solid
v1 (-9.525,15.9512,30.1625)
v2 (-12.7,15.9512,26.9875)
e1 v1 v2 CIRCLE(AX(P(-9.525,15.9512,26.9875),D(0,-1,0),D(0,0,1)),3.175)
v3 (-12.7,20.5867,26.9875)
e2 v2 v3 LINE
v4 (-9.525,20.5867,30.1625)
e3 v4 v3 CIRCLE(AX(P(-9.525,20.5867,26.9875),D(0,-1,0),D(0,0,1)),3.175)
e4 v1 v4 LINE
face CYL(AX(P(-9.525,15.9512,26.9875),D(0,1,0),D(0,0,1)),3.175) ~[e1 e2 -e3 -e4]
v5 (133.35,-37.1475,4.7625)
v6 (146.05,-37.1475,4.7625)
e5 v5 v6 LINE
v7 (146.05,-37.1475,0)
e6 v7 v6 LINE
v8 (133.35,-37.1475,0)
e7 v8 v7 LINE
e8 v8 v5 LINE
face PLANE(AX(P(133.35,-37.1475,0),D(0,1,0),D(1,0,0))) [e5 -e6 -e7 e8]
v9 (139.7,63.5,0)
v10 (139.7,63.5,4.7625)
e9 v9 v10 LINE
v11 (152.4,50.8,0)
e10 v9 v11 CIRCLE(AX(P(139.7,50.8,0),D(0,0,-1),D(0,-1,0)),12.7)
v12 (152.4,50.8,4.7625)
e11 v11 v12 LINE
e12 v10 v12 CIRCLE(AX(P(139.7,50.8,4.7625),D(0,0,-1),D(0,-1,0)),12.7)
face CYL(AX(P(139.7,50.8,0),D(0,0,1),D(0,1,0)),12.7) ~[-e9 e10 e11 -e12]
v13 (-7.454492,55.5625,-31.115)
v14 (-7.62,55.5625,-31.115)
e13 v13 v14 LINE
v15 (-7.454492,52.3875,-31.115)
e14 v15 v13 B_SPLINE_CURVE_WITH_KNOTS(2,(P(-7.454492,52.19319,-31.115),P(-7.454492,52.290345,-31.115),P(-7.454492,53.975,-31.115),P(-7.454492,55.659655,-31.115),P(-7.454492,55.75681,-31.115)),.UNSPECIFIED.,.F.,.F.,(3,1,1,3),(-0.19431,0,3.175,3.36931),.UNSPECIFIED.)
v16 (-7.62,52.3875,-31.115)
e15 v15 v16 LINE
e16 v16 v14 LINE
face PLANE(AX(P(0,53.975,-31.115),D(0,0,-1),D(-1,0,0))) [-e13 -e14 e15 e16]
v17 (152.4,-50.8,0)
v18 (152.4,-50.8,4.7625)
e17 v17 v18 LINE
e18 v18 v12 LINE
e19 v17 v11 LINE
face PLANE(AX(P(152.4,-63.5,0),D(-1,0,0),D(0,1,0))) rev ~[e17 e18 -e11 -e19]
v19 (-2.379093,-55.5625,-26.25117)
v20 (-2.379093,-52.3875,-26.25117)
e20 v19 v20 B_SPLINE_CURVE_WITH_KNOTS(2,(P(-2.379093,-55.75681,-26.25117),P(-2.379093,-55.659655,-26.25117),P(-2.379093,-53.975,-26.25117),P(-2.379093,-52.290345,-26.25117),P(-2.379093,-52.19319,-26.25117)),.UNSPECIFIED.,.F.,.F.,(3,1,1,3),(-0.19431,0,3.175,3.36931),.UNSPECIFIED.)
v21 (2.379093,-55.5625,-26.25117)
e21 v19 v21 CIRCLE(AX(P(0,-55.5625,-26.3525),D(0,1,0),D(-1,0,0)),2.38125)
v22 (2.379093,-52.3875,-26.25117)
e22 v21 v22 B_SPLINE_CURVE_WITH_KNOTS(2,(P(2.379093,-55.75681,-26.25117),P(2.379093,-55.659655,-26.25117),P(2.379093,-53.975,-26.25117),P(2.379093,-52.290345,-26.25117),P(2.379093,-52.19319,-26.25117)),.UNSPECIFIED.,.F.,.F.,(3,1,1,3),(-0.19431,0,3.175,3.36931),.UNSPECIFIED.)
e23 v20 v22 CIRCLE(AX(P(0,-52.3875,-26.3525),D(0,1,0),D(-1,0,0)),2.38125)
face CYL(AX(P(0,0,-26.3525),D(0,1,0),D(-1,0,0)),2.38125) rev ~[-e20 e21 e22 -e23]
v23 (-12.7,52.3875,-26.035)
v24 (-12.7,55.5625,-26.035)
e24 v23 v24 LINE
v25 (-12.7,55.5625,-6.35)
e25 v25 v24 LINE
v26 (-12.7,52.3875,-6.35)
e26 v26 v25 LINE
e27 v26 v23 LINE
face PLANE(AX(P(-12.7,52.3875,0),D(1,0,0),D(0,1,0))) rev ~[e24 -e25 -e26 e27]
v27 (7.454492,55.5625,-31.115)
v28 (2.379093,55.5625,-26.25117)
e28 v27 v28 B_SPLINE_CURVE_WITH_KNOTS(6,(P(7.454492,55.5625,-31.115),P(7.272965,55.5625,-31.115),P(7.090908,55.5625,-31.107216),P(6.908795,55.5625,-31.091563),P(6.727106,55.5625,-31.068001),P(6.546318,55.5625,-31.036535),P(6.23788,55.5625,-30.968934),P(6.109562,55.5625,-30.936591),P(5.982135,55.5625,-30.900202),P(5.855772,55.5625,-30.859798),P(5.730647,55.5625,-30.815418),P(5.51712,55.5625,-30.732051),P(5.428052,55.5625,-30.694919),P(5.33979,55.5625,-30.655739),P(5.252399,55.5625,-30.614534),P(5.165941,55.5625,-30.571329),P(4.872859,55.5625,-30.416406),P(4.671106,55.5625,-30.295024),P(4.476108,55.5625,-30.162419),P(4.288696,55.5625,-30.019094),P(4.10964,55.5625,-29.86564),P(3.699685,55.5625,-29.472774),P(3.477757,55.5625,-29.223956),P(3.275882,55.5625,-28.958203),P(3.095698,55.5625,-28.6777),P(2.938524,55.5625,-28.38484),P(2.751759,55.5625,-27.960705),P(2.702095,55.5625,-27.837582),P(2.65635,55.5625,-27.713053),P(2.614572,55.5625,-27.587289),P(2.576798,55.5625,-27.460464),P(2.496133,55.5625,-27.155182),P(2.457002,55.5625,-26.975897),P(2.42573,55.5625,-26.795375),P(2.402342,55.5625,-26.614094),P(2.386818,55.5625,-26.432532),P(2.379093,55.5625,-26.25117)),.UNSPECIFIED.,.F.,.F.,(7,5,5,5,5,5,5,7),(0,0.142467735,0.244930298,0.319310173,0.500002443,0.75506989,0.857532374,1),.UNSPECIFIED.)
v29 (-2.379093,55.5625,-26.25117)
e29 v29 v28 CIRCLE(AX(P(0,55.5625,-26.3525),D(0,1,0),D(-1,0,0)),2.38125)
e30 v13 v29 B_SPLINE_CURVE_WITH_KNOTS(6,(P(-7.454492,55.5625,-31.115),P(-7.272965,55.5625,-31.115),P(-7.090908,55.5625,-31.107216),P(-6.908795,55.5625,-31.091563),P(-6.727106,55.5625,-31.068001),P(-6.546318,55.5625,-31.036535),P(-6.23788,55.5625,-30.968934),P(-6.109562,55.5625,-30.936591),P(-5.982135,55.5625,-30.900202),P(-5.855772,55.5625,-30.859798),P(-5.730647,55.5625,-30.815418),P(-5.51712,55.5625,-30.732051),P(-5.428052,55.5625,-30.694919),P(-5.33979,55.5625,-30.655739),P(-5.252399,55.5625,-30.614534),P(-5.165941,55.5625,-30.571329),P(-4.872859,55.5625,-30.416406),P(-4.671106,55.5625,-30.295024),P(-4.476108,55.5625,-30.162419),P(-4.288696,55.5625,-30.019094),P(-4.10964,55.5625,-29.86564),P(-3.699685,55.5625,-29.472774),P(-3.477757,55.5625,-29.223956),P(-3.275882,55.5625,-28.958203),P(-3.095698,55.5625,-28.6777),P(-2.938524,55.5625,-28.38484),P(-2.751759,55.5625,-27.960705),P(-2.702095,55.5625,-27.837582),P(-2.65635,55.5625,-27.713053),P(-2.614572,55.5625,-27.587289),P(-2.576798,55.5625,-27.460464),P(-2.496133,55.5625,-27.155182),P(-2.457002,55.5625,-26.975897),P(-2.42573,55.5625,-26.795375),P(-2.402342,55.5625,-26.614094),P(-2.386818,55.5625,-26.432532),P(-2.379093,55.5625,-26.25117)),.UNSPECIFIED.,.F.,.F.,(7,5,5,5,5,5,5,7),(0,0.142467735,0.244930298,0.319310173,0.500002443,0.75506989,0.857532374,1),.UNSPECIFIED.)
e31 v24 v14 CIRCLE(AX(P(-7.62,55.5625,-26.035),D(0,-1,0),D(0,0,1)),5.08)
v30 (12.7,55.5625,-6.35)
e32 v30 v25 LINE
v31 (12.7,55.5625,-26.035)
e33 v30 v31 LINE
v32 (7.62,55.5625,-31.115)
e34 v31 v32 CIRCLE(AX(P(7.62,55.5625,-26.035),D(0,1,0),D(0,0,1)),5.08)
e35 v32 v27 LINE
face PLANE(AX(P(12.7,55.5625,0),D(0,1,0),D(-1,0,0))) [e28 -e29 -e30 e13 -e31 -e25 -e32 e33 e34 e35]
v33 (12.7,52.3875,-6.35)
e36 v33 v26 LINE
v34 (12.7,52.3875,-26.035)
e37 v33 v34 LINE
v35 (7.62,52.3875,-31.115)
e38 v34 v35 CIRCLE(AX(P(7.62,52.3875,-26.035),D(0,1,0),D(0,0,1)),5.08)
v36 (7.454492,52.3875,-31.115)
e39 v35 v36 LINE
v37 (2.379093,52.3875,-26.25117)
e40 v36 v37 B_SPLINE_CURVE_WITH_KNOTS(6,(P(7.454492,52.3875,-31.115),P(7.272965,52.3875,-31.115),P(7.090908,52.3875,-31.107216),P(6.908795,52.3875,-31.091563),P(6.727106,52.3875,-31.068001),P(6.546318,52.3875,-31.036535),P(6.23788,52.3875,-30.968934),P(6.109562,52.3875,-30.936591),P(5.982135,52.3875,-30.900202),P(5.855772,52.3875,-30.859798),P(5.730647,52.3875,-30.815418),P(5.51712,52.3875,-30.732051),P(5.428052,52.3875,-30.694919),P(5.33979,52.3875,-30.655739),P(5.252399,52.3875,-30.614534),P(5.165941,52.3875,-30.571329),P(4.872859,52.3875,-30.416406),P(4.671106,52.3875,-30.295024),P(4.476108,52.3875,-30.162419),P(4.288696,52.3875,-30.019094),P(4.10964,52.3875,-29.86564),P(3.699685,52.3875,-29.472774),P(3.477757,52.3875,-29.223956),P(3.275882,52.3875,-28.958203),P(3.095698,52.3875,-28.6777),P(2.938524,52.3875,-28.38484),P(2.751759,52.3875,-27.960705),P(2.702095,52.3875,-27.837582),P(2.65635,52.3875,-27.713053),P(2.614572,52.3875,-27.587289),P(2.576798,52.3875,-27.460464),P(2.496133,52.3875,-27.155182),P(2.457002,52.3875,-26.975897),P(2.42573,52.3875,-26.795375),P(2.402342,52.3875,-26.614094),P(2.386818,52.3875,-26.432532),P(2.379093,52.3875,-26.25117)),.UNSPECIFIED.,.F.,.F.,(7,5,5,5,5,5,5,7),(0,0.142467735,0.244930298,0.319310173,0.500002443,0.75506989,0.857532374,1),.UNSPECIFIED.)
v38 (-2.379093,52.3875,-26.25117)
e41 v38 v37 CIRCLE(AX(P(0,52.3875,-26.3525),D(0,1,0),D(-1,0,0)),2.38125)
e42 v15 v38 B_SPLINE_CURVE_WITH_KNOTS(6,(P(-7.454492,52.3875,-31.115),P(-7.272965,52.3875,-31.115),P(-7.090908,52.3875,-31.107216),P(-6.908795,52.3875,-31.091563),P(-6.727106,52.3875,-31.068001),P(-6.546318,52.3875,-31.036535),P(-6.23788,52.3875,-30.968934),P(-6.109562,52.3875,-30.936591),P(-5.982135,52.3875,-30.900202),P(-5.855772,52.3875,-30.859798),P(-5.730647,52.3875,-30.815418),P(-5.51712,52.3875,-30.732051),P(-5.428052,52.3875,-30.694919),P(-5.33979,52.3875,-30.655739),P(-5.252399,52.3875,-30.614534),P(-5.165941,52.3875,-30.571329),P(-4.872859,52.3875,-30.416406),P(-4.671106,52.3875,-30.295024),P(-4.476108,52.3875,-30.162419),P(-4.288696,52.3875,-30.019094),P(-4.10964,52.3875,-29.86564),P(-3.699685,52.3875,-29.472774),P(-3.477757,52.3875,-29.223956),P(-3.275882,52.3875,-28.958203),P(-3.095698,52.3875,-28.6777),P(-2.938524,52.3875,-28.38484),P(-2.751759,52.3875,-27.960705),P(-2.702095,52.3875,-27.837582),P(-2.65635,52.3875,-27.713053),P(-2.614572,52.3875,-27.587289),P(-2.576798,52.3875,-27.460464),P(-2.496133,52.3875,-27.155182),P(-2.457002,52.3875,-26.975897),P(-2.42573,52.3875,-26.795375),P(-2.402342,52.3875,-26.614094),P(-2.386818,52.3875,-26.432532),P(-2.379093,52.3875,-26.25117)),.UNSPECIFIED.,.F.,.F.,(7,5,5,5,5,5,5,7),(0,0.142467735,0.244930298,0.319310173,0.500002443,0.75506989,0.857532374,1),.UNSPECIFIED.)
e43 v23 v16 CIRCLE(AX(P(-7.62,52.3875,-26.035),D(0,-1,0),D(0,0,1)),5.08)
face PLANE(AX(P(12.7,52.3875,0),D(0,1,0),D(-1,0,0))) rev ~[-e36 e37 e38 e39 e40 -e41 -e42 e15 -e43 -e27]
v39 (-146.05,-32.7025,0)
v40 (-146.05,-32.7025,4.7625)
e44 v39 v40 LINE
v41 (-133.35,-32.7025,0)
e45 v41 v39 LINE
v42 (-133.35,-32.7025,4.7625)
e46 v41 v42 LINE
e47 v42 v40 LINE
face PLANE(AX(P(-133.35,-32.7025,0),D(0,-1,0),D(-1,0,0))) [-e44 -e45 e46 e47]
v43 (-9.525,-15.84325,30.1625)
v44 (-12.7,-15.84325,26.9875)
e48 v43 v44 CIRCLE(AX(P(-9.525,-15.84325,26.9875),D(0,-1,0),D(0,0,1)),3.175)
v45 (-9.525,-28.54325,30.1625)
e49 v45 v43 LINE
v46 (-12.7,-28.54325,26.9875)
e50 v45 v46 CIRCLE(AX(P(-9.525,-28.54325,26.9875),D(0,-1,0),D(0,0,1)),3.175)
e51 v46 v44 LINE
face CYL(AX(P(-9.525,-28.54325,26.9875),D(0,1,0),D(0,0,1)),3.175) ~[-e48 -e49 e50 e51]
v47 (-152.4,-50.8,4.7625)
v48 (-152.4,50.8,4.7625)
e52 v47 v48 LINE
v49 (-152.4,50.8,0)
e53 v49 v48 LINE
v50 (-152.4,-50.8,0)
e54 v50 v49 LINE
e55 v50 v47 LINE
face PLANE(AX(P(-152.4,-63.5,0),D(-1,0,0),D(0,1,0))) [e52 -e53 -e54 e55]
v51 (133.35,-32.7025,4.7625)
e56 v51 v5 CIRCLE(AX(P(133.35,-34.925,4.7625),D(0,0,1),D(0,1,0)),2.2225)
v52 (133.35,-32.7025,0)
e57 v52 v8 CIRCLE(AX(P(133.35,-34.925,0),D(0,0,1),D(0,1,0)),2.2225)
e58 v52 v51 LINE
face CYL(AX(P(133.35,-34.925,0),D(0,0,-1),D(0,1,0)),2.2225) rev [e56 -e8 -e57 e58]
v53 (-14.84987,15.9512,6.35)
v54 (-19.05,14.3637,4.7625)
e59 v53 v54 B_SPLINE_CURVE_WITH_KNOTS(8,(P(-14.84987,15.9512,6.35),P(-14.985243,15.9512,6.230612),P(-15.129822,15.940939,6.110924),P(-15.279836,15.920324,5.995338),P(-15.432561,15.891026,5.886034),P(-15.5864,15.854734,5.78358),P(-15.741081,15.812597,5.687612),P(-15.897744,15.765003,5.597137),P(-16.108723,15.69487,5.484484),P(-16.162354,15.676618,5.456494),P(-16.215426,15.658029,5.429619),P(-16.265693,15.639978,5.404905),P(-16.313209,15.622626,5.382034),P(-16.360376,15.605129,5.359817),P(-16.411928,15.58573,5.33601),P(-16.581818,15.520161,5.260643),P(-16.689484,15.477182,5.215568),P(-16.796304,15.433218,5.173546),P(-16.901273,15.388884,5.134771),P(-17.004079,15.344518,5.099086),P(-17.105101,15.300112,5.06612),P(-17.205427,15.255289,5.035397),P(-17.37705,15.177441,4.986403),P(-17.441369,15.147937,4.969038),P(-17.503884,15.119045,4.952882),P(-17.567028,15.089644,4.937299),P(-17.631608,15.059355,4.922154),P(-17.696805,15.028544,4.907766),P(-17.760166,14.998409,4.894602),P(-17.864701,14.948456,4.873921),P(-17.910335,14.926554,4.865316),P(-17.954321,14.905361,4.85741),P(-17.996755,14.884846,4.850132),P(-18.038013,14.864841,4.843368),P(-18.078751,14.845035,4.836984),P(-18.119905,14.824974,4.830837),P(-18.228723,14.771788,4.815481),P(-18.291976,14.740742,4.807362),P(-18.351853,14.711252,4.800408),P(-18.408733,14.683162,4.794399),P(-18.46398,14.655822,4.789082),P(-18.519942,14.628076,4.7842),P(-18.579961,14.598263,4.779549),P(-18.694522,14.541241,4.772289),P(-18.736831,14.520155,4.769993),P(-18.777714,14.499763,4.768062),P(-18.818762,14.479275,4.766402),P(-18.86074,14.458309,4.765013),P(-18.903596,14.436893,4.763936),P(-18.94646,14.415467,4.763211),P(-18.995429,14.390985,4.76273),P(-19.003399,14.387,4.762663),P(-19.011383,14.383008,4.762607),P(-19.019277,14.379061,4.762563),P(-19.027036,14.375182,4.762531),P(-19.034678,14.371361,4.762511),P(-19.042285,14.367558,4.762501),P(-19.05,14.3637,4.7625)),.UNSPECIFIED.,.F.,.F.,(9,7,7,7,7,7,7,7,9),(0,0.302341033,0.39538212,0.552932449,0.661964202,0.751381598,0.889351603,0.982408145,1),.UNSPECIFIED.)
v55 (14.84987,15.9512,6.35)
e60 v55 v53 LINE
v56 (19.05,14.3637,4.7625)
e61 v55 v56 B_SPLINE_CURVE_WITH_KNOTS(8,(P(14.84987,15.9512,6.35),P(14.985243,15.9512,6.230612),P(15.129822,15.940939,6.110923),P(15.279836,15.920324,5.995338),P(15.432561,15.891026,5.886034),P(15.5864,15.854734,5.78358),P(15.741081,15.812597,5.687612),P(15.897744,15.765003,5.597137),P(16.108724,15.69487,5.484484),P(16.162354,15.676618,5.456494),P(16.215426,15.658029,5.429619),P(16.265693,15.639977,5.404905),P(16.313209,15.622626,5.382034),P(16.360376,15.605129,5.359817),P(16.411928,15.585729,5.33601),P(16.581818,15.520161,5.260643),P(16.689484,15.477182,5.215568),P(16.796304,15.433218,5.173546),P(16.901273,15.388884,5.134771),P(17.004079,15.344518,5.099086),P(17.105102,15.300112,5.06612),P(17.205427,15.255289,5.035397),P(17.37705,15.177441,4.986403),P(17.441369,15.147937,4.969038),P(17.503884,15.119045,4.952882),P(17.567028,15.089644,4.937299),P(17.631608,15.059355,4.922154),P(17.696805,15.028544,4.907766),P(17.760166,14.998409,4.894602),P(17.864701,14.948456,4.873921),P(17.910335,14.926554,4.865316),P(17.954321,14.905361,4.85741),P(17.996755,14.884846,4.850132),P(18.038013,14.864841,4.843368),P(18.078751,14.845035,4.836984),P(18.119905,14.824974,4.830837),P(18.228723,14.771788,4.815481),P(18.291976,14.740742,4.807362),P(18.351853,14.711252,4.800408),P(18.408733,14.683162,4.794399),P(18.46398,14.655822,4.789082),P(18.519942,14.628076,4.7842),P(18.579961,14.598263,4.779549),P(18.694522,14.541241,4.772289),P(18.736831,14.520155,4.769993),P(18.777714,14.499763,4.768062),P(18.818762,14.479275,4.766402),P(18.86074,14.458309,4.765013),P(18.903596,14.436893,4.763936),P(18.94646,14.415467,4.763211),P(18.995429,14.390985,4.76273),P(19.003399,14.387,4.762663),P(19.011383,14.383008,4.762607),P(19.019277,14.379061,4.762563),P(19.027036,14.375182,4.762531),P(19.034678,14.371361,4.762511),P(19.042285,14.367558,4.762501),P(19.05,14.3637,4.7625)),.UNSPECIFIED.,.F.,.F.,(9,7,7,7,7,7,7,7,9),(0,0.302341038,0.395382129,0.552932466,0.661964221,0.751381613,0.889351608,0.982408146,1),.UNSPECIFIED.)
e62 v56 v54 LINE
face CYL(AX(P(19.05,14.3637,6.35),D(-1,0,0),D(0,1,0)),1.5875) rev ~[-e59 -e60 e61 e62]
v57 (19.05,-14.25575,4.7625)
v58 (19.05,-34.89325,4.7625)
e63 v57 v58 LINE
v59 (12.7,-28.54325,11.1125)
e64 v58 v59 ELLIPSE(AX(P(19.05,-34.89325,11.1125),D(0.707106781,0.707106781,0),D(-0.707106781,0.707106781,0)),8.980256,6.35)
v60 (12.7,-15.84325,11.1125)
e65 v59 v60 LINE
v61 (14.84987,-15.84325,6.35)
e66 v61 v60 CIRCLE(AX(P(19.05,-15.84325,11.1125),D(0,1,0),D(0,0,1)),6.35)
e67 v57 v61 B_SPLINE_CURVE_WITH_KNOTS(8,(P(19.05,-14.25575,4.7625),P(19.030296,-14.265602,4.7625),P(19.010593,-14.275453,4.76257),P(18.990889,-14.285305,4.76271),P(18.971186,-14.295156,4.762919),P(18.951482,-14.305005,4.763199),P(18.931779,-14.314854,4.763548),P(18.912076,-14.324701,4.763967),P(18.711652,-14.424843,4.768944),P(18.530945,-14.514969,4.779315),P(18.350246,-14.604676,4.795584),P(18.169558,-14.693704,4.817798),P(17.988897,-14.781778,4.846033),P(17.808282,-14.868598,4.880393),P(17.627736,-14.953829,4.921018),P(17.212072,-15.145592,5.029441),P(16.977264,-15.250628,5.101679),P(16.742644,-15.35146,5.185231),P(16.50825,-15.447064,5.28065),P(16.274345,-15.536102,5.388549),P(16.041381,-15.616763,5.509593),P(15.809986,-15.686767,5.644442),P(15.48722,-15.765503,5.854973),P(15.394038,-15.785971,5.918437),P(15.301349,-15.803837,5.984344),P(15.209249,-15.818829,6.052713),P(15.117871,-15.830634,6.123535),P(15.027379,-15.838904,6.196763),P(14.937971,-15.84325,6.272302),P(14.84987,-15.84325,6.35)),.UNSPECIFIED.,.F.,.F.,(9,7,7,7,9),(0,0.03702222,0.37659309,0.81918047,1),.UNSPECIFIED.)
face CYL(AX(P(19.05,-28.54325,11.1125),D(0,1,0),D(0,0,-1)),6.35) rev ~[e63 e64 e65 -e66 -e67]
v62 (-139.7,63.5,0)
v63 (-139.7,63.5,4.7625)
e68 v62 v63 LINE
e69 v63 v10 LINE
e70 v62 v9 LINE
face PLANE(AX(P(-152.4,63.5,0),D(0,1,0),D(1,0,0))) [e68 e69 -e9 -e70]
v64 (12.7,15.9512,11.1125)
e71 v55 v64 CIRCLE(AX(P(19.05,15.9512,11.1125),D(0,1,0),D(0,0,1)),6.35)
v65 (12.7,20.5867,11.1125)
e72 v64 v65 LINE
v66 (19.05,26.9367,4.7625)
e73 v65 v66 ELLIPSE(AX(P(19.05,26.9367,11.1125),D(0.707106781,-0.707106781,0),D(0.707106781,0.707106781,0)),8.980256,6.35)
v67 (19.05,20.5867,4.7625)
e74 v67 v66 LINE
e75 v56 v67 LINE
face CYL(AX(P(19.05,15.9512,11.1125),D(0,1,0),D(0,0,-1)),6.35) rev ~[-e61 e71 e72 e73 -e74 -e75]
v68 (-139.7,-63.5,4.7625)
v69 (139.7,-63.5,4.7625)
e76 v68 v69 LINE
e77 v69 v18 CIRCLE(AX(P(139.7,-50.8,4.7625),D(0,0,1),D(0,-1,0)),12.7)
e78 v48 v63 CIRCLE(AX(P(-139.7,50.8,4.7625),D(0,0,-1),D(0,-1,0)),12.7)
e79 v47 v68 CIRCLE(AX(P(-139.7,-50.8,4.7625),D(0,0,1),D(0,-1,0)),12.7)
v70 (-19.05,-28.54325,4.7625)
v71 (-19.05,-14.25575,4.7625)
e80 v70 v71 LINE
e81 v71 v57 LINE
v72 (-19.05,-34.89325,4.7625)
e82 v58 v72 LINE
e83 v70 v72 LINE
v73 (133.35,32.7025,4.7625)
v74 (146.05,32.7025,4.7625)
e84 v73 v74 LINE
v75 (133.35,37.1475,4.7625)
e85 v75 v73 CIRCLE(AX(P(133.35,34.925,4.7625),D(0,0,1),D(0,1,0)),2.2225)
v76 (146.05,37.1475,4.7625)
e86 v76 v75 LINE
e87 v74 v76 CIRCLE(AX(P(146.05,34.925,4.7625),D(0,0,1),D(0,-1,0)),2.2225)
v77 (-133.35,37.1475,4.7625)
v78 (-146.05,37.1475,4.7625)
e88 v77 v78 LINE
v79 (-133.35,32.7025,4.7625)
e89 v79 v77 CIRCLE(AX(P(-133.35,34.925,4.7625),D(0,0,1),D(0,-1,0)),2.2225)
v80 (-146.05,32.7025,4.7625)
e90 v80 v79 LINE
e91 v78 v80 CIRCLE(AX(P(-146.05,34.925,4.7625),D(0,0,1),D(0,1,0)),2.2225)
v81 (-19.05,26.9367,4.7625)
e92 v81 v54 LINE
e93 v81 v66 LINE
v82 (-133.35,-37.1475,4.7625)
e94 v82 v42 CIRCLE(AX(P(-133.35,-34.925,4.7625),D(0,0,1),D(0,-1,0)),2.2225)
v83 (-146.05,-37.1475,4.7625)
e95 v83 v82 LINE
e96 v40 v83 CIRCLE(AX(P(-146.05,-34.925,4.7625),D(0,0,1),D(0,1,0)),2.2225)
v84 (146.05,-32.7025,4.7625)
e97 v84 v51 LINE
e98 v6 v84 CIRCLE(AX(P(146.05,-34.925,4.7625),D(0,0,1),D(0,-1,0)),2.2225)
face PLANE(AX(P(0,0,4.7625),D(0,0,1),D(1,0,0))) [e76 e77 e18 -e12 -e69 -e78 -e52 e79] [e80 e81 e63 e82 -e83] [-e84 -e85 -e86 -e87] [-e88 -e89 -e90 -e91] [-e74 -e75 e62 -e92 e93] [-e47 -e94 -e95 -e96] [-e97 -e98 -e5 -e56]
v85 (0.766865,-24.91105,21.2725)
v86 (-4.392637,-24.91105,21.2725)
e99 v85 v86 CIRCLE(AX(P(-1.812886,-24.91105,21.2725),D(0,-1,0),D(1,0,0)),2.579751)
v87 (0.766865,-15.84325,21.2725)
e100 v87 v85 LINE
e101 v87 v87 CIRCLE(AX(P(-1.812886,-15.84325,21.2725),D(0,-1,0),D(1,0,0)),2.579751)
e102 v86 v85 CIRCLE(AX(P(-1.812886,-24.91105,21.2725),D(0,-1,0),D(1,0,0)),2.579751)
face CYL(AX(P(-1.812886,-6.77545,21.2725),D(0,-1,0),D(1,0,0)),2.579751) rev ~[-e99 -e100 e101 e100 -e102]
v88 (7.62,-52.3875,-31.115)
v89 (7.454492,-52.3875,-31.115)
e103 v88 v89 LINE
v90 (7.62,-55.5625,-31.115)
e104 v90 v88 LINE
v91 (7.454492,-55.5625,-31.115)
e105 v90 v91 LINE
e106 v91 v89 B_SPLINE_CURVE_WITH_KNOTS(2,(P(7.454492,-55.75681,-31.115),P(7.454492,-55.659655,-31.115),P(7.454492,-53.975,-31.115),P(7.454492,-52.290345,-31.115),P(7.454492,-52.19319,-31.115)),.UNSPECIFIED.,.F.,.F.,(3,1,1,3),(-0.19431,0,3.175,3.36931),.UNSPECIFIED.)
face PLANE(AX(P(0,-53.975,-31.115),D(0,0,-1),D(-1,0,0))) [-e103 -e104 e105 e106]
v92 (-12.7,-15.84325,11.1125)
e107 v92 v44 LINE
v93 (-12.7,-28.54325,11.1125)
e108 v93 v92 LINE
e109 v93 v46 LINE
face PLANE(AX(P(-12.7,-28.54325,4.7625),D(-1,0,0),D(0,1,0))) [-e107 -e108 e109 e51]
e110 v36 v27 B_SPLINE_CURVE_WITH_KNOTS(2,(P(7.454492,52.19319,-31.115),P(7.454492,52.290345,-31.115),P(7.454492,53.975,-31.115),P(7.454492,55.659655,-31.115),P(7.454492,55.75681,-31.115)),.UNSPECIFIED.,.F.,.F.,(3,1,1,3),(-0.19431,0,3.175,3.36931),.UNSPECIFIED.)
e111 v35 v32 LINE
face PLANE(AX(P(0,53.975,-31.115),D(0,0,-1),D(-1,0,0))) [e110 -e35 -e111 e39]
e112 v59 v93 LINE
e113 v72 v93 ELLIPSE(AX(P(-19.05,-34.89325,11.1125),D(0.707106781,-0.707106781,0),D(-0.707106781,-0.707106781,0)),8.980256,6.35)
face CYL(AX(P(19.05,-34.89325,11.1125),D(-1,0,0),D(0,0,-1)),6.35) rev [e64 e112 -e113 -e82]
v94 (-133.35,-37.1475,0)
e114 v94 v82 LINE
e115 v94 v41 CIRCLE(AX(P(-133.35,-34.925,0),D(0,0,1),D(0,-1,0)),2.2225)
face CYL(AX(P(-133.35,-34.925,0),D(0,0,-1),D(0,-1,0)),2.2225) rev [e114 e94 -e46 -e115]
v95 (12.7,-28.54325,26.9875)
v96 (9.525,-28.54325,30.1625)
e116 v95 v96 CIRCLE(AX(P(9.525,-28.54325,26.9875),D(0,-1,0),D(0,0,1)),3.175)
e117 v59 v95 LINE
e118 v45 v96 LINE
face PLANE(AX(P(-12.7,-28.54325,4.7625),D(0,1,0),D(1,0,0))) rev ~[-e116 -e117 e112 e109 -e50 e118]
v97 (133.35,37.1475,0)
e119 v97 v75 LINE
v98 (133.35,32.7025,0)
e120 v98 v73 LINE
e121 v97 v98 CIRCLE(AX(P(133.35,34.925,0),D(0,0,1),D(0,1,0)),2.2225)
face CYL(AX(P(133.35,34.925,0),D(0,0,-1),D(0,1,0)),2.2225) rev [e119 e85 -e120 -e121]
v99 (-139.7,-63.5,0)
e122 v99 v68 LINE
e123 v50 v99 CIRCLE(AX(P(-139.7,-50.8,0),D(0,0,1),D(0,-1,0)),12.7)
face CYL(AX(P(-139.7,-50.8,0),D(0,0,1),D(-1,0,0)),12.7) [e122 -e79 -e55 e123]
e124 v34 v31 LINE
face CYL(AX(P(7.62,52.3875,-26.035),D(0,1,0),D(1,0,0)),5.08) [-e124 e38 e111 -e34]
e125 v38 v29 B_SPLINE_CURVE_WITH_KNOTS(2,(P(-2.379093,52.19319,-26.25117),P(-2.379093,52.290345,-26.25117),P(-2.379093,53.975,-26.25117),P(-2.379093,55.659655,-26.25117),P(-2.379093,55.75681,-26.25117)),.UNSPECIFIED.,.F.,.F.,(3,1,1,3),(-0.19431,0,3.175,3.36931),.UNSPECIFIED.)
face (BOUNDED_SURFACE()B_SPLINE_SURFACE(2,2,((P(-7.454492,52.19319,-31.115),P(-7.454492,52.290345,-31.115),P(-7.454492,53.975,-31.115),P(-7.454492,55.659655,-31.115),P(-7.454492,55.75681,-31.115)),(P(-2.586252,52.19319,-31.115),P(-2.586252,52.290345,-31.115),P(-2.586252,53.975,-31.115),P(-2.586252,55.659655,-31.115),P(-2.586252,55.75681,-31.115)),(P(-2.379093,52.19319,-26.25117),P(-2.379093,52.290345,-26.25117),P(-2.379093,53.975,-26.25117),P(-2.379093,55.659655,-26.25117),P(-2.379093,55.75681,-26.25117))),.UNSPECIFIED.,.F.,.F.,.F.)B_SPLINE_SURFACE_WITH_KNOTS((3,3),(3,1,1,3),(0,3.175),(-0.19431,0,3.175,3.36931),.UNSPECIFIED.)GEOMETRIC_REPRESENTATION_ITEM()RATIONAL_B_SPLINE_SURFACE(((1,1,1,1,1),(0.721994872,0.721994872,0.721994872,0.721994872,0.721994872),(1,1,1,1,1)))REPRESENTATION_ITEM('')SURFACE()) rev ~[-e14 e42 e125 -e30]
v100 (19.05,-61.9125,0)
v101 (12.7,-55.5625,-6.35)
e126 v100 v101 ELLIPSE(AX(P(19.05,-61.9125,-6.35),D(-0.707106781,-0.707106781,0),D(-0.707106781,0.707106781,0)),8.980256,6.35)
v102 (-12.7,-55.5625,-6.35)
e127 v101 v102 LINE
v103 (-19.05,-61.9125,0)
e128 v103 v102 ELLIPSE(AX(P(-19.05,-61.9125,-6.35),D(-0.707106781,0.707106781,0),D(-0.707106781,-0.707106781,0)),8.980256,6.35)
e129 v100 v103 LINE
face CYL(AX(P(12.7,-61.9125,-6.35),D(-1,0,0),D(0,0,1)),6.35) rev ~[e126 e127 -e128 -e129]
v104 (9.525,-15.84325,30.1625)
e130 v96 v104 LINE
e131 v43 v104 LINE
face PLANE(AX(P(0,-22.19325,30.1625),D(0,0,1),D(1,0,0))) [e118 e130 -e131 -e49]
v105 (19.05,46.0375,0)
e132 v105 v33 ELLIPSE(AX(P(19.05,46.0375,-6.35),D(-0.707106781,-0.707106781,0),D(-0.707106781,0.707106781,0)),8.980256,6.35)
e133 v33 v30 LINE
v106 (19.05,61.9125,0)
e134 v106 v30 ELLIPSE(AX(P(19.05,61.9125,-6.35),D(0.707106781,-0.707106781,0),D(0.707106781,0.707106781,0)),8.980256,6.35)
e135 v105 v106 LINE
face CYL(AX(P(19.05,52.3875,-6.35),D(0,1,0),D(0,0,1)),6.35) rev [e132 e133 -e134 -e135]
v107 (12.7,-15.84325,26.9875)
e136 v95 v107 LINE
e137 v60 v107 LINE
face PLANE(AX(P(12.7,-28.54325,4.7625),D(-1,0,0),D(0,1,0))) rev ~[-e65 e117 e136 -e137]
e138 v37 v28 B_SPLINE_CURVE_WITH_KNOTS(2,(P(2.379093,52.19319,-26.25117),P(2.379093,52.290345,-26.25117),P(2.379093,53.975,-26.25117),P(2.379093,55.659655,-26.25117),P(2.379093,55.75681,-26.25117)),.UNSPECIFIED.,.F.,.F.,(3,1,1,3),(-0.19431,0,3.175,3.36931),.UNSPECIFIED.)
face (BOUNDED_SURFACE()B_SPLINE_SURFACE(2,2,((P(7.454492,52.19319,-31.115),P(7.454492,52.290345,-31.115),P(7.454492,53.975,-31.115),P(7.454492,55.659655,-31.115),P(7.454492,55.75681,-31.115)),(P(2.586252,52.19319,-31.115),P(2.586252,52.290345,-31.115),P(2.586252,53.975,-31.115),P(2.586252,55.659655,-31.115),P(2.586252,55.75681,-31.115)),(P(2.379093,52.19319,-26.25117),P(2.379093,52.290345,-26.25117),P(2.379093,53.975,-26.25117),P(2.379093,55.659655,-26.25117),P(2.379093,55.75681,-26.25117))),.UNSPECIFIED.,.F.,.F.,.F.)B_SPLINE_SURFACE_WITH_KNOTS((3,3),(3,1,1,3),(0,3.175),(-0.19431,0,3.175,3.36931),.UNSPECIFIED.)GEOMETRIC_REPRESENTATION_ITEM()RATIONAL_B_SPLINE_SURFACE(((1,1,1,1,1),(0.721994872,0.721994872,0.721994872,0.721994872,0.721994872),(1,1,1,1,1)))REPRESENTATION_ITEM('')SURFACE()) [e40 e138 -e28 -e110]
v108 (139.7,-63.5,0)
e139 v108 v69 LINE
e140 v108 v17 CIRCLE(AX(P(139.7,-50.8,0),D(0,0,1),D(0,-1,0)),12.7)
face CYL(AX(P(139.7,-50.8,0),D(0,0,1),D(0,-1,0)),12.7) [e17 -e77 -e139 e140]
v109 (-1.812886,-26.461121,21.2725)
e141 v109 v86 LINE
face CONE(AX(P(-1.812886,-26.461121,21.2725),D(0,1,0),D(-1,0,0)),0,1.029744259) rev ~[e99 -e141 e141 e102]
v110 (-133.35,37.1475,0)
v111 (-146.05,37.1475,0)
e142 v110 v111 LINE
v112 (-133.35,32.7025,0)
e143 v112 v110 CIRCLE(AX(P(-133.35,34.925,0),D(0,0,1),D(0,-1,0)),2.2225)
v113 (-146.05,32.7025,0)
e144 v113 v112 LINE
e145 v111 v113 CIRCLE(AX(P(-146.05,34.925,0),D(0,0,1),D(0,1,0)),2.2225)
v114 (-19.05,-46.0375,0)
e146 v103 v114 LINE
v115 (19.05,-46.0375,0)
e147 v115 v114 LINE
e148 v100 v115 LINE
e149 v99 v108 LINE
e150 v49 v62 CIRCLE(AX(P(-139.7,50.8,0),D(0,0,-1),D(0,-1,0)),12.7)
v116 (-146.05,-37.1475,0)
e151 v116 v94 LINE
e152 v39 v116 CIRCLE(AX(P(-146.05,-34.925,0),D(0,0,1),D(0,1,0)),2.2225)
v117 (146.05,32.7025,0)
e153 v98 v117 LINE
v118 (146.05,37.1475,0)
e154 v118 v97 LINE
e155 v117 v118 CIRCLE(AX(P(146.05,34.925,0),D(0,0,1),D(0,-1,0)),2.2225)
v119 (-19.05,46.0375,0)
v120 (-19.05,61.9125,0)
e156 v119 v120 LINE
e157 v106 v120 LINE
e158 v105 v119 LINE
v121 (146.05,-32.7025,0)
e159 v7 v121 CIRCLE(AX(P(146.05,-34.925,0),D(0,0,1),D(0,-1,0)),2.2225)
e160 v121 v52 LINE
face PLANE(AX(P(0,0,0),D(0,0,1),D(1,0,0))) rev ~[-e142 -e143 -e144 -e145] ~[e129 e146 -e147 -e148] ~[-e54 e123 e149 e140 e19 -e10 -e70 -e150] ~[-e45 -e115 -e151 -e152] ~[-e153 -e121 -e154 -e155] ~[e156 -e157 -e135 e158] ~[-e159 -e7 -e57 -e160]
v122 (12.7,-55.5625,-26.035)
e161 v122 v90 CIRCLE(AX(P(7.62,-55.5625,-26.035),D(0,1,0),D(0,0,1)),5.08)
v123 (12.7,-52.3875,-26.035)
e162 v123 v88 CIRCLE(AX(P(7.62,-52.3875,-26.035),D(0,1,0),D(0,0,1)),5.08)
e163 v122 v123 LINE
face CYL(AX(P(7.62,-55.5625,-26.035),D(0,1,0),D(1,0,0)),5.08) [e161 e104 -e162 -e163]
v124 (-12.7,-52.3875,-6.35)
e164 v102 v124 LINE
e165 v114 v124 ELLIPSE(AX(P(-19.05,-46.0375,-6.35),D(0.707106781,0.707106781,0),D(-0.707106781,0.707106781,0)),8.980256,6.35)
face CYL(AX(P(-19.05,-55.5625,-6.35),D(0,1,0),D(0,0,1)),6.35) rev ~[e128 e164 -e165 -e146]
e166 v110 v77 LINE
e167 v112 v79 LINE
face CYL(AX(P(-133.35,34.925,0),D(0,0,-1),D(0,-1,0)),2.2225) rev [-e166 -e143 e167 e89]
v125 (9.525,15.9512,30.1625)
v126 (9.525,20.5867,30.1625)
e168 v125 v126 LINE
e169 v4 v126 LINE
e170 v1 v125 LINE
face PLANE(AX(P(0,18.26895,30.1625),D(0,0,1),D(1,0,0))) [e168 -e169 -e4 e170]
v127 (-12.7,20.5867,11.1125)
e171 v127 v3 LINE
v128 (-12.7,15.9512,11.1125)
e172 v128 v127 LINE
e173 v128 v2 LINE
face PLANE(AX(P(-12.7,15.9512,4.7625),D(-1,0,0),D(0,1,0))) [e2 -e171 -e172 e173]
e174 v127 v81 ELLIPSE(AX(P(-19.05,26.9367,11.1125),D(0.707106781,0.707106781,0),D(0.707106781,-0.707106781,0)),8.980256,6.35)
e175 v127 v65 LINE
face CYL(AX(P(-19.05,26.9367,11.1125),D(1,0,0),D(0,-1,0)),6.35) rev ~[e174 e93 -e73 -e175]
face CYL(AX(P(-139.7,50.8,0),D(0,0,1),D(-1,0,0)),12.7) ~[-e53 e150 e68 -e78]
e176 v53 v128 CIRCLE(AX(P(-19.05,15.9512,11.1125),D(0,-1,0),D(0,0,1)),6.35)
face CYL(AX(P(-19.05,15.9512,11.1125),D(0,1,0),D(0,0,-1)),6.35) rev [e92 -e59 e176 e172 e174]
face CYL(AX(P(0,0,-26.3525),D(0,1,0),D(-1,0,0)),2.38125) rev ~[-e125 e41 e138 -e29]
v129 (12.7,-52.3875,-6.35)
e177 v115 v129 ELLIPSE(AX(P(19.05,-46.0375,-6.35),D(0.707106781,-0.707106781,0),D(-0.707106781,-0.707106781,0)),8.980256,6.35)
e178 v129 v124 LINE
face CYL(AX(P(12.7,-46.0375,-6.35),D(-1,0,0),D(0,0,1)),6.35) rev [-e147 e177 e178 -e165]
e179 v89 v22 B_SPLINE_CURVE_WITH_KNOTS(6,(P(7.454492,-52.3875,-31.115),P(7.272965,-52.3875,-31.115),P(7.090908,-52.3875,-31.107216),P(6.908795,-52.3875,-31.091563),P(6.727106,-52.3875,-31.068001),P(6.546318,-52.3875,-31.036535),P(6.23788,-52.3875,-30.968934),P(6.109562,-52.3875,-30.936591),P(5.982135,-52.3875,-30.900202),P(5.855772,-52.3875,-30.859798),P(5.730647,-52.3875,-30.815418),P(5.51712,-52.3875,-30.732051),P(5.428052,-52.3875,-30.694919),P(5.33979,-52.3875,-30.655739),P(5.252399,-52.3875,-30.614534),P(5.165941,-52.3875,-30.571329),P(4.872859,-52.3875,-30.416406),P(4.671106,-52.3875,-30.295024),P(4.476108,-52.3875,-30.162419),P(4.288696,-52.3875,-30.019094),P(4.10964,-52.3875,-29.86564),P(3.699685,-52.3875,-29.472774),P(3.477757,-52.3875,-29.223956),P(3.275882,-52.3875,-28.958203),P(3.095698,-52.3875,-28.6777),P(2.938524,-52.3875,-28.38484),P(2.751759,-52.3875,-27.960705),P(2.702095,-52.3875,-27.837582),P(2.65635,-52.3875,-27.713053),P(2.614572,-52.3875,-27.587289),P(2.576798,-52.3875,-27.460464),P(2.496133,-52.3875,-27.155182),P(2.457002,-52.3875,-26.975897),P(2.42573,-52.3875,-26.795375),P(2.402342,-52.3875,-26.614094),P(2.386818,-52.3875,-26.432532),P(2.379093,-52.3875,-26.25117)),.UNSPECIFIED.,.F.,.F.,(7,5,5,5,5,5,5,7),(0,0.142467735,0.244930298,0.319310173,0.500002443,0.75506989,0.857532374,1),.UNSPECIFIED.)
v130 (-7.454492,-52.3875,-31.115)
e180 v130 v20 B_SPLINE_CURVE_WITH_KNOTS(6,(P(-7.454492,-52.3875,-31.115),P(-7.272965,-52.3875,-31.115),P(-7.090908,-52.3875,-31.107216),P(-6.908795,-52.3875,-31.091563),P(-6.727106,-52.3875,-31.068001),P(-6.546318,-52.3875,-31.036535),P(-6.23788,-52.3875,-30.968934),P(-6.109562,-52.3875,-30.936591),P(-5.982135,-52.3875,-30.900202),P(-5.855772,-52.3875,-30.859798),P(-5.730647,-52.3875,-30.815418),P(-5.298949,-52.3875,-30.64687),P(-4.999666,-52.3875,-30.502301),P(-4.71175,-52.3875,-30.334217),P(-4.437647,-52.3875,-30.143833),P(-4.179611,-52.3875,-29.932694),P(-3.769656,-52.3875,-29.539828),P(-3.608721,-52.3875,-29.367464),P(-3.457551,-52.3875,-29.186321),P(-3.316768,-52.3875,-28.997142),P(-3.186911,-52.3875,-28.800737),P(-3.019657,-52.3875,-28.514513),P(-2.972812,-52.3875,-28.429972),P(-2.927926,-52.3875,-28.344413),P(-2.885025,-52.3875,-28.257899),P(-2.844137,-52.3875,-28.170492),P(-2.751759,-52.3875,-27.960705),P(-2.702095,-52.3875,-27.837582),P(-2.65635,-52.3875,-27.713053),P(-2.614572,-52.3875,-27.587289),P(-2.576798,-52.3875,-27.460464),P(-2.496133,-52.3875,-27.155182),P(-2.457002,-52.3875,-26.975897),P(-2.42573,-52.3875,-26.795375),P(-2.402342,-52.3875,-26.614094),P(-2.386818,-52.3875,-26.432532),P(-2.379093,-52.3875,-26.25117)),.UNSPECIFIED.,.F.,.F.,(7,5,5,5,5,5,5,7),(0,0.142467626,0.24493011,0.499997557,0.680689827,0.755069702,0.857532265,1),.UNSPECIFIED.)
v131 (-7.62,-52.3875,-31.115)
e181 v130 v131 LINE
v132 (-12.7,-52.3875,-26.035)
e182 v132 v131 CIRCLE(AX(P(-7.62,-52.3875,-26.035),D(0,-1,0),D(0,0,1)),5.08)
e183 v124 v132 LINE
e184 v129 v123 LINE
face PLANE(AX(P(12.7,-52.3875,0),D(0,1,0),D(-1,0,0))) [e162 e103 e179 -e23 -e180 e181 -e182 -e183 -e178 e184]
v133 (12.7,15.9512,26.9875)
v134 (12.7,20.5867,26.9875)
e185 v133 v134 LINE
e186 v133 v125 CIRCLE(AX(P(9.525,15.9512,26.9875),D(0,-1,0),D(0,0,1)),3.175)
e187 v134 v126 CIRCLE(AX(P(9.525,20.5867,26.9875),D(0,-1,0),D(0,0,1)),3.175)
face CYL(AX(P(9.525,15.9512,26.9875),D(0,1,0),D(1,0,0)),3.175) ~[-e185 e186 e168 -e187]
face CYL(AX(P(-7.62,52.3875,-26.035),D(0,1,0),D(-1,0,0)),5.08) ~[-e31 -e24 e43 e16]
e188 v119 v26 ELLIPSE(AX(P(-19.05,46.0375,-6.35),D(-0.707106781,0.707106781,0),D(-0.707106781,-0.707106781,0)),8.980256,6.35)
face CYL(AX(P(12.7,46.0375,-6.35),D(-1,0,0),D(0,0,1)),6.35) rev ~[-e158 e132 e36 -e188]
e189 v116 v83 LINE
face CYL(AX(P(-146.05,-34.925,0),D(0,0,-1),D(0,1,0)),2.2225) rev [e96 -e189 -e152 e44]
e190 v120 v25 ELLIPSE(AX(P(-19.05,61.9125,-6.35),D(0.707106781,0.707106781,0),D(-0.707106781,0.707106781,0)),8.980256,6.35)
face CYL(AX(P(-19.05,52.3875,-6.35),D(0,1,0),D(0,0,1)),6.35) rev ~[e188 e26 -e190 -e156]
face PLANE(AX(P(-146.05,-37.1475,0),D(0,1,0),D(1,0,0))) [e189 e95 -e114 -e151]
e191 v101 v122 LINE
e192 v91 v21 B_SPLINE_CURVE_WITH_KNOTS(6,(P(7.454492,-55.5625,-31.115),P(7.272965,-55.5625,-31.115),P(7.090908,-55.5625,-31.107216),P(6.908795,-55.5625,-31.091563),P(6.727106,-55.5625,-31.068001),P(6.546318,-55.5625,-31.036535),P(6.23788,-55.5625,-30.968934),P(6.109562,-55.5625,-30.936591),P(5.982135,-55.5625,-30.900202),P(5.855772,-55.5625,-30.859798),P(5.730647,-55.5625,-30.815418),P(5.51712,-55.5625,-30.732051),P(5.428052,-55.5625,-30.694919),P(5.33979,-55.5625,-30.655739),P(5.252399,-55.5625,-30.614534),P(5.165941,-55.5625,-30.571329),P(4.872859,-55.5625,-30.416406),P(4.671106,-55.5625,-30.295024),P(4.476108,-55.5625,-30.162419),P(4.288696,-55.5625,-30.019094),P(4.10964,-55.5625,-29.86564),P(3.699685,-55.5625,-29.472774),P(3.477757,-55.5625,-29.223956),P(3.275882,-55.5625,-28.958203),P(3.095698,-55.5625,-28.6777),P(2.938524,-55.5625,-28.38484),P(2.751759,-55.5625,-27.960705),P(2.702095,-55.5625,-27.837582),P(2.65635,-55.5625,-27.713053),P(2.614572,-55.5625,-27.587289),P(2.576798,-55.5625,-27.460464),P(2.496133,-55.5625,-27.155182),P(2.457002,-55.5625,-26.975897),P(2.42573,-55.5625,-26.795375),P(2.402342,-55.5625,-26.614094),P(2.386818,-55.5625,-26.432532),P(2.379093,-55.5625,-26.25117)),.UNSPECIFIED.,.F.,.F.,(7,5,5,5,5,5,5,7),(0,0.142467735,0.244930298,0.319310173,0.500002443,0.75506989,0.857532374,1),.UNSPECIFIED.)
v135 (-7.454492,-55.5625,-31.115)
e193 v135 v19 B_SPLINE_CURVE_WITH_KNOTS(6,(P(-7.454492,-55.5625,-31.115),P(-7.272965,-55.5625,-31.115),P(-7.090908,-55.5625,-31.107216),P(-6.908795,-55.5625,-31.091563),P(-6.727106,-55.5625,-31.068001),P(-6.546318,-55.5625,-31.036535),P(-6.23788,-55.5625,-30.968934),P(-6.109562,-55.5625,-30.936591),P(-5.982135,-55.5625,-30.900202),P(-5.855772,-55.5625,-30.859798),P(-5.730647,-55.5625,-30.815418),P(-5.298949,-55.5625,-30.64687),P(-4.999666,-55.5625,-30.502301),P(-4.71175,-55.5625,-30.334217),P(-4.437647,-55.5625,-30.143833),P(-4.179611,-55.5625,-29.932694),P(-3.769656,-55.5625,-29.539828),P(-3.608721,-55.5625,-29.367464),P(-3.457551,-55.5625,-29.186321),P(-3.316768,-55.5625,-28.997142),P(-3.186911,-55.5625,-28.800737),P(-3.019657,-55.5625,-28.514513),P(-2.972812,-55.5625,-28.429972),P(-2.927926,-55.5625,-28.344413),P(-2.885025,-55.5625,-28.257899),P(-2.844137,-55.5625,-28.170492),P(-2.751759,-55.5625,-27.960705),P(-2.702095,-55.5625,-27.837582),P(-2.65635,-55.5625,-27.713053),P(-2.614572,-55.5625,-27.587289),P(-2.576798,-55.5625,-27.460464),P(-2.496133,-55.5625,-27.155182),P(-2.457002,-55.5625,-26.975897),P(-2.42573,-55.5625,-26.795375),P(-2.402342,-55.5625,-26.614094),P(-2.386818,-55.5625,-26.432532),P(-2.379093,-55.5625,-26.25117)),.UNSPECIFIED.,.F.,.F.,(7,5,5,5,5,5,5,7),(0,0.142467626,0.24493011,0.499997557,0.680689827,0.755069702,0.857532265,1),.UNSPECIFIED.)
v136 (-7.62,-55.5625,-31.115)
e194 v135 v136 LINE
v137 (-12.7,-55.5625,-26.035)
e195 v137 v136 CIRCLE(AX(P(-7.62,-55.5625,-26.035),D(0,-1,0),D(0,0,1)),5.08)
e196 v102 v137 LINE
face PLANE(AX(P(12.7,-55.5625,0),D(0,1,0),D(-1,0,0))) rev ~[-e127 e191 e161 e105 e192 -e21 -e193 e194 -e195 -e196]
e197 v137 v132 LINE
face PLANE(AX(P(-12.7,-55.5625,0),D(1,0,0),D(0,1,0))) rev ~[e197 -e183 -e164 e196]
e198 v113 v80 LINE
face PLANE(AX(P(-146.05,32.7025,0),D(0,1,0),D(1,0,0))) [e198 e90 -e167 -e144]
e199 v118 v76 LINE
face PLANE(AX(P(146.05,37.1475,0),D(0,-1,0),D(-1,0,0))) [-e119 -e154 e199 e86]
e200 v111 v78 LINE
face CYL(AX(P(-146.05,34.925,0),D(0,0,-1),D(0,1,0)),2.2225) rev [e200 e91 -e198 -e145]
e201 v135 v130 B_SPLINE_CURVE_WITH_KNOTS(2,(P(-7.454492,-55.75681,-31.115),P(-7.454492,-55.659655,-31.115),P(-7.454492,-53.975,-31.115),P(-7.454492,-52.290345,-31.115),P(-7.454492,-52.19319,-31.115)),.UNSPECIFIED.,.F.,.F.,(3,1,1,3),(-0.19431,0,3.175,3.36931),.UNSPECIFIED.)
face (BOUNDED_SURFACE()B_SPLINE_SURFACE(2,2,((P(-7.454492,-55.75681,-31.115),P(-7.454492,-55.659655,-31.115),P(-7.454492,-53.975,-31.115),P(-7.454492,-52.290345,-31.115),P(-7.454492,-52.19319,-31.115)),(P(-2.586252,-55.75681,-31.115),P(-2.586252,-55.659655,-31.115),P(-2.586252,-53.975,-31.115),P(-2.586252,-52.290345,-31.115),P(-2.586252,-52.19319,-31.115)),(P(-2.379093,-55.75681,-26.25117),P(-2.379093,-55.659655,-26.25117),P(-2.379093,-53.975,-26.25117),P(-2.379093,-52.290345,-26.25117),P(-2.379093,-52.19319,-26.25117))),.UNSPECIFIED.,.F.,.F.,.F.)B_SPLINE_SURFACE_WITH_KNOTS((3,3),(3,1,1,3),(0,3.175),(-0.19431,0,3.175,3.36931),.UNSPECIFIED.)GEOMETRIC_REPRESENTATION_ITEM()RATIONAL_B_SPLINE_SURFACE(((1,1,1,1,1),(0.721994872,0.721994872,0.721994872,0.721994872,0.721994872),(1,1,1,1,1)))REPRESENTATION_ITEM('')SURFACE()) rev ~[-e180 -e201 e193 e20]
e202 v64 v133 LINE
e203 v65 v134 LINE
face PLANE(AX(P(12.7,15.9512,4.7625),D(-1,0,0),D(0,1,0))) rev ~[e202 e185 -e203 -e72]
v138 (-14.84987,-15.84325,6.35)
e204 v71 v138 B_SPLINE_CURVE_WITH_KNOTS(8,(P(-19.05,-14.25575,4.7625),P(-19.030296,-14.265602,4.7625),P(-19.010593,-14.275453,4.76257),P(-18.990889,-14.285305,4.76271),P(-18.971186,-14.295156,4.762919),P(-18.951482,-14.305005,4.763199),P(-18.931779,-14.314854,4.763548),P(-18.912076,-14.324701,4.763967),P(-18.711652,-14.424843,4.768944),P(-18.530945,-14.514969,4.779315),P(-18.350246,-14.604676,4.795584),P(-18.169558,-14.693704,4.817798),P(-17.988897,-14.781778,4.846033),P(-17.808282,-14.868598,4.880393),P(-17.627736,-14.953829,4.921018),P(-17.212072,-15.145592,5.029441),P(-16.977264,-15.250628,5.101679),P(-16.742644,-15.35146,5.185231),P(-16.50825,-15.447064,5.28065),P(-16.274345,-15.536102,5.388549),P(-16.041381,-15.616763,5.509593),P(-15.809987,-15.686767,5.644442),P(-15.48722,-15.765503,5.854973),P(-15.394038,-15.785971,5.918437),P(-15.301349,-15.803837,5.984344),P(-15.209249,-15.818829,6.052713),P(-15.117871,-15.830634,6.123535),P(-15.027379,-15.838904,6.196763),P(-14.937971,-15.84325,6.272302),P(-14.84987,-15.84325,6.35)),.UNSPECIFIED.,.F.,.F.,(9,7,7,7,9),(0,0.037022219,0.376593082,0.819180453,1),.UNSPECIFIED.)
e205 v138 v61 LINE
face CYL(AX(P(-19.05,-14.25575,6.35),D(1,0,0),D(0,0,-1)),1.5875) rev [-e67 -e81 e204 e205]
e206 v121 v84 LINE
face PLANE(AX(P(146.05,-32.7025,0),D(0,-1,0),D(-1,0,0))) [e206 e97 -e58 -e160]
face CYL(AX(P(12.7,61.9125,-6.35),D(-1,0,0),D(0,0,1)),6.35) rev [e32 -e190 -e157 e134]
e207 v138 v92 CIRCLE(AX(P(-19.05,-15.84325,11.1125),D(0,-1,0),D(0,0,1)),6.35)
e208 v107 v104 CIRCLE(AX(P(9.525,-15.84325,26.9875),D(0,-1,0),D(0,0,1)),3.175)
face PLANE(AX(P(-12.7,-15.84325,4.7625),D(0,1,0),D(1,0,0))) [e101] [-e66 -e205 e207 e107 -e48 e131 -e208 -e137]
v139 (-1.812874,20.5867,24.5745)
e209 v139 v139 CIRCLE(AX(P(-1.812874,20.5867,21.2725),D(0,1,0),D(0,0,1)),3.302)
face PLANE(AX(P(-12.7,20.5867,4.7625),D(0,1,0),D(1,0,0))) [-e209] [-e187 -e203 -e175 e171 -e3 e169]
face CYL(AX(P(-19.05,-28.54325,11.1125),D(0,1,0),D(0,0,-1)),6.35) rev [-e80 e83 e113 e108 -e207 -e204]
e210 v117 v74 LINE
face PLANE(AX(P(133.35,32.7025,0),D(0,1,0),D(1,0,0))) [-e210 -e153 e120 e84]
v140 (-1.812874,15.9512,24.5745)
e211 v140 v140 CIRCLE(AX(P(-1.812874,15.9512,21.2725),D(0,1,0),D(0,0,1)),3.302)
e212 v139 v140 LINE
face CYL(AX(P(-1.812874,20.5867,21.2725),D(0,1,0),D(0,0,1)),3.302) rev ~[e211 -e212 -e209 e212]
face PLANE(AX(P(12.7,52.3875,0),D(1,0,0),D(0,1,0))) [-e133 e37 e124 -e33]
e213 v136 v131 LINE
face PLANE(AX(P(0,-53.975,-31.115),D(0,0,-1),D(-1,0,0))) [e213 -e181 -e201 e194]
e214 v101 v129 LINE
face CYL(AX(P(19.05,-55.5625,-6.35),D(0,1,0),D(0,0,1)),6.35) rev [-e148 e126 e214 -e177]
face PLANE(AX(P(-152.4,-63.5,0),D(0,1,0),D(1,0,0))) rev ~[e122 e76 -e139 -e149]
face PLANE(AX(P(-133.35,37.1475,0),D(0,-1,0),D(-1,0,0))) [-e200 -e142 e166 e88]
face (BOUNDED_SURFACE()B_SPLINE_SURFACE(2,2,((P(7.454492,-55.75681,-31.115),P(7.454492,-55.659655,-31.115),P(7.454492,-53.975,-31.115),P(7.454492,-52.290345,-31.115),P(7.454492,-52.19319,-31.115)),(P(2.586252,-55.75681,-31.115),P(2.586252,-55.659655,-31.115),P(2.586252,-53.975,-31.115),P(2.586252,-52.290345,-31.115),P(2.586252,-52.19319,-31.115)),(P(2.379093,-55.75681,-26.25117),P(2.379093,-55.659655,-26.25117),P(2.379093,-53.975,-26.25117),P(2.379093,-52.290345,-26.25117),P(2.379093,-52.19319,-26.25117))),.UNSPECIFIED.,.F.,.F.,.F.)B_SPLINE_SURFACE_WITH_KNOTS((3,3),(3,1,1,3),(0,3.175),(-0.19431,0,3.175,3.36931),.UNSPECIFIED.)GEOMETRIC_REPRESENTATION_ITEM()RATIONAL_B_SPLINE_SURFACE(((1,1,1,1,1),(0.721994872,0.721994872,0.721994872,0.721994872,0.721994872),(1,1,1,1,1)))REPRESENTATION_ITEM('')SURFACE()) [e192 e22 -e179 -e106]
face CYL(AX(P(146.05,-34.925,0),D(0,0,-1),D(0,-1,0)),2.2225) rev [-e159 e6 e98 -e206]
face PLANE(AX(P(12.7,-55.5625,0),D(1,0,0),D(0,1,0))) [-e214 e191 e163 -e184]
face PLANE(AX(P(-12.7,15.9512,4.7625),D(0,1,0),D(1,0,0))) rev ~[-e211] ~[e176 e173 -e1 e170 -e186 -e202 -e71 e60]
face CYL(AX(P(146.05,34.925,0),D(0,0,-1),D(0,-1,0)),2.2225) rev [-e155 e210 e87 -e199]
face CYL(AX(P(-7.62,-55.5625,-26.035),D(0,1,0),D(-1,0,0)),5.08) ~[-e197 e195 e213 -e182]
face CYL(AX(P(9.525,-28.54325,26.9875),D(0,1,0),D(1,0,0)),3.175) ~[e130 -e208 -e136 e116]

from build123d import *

# Parameters (mm, degrees)
SKETCH1_W                            = 304.8
SKETCH1_H                            = 127
BOSS_EXTRUDE1_DEPTH                  = 4.7625
SKETCH2_W                            = 25.4
SKETCH2_H                            = 3.175
BOSS_EXTRUDE2_DEPTH                  = 31.115
CUT_EXTRUDE1_DEPTH                   = 63.5
FILLET1_R                            = 5.08
FILLET2_R                            = 12.7
FILLET4_R                            = 6.35
CUT_EXTRUDE2_DEPTH                   = 4.7625
LPATTERN2_COUNT                      = 2
LPATTERN2_PITCH                      = 279.4
LPATTERN2_COUNT_DIR2                 = 2
LPATTERN2_PITCH_DIR2                 = 69.85
SKETCH8_W                            = 25.4
SKETCH8_H                            = 12.7
SKETCH8_H_2                          = 4.6355
BOSS_EXTRUDE3_DEPTH                  = 25.4
CUT_EXTRUDE3_REACH                   = 86.087
SKETCH9_R                            = 3.302
F_13_64_0_20313_DIAMETER_HOLE1_D     = 5.159502
F_13_64_0_20313_DIAMETER_HOLE1_DEPTH = 9.0678
F_13_64_0_20313_DIAMETER_HOLE1_TIP   = 1.550070783
FILLET5_R                            = 6.35
FILLET6_R                            = 3.175
FILLET7_R                            = 1.5875
FILLET11_R                           = 6.35


with BuildPart() as part:
    # Sketch1 → Boss-Extrude1 (new body)
    with BuildSketch(Plane.XY):
        Rectangle(SKETCH1_W, SKETCH1_H)
    extrude(amount=BOSS_EXTRUDE1_DEPTH)

    # Sketch2 → Boss-Extrude2 (add)
    with BuildSketch(Plane(origin=(0, 0, 0), x_dir=(-1, 0, 0), z_dir=(0, 0, -1))):
        with Locations((0, 53.975)):
            Rectangle(SKETCH2_W, SKETCH2_H)
        with Locations((0, -53.975)):
            Rectangle(SKETCH2_W, SKETCH2_H)
    extrude(amount=BOSS_EXTRUDE2_DEPTH)

    # Sketch3 → Cut-Extrude1 (cut, symmetric)
    with BuildSketch(Plane(origin=(0, 0, 0), x_dir=(1, 0, 0), z_dir=(0, 1, 0))):
        with BuildLine():
            Line((2.38125, 26.3525), (2.38125, 31.115))
            Line((2.38125, 31.115), (-2.38125, 31.115))
            Line((-2.38125, 31.115), (-2.38125, 26.3525))
            ThreePointArc((-2.38125, 26.3525), (0, 23.97125), (2.38125, 26.3525))
        make_face()
    extrude(amount=CUT_EXTRUDE1_DEPTH, both=True, mode=Mode.SUBTRACT)

    # Fillet1
    fillet1_edges = [part.edges().sort_by_distance(p)[0] for p in [
        (-2.38125, -53.975, -31.115),
        (2.38125, -53.975, -31.115),
        (-2.38125, 53.975, -31.115),
        (2.38125, 53.975, -31.115),
        (12.7, -53.975, -31.115),
        (-12.7, -53.975, -31.115),
        (-12.7, 53.975, -31.115),
        (12.7, 53.975, -31.115),
    ]]
    fillet(fillet1_edges, radius=FILLET1_R)

    # Fillet2
    fillet2_edges = [part.edges().sort_by_distance(p)[0] for p in [
        (-152.4, 63.5, 2.38125),
        (152.4, 63.5, 2.38125),
        (152.4, -63.5, 2.38125),
        (-152.4, -63.5, 2.38125),
    ]]
    fillet(fillet2_edges, radius=FILLET2_R)

    # Fillet4
    fillet4_edges = [part.edges().sort_by_distance(p)[0] for p in [
        (12.7, 53.975, 0),
        (0, 52.3875, 0),
        (-12.7, 53.975, 0),
        (0, 55.5625, 0),
        (0, -52.3875, 0),
        (12.7, -53.975, 0),
        (0, -55.5625, 0),
        (-12.7, -53.975, 0),
    ]]
    fillet(fillet4_edges, radius=FILLET4_R)

    # Sketch7 → Cut-Extrude2 (cut)
    with BuildSketch(Plane(origin=(0, 0, 0), x_dir=(-1, 0, 0), z_dir=(0, 0, -1))):
        with BuildLine():
            Line((-146.05, 37.1475), (-133.35, 37.1475))
            ThreePointArc((-133.35, 37.1475), (-131.1275, 34.925), (-133.35, 32.7025))
            Line((-133.35, 32.7025), (-146.05, 32.7025))
            ThreePointArc((-146.05, 32.7025), (-148.2725, 34.925), (-146.05, 37.1475))
        make_face()
    cut_extrude2 = extrude(amount=-CUT_EXTRUDE2_DEPTH, mode=Mode.SUBTRACT)

    # LPattern2: Cut-Extrude2 2 × 2
    with Locations(*[(-i * LPATTERN2_PITCH, -j * LPATTERN2_PITCH_DIR2, 0) for i in range(LPATTERN2_COUNT) for j in range(LPATTERN2_COUNT_DIR2) if (i, j) != (0, 0)]):
        add(cut_extrude2, mode=Mode.SUBTRACT)

    # Sketch8 → Boss-Extrude3 (add)
    with BuildSketch(Plane.XY.offset(4.7625)):
        with Locations((0, -22.19325)):
            Rectangle(SKETCH8_W, SKETCH8_H)
        with Locations((0, 18.26895)):
            Rectangle(SKETCH8_W, SKETCH8_H_2)
    extrude(amount=BOSS_EXTRUDE3_DEPTH)

    # Sketch9 → Cut-Extrude3 (cut, up to next)
    with BuildSketch(Plane(origin=(0, 20.5867, 0), x_dir=(1, 0, 0), z_dir=(0, 1, 0)), mode=Mode.PRIVATE) as cut_extrude3_sk1:
        with Locations(Location((-1.812874351, -21.2725, 0), (0, 0, 270))):  # turned: the seam where the file's is
            Circle(SKETCH9_R)
    cut_extrude3_tool1 = extrude(cut_extrude3_sk1.sketch, amount=-CUT_EXTRUDE3_REACH, mode=Mode.PRIVATE) & part.part
    add(cut_extrude3_tool1.solids().sort_by_distance((-1.812874, 20.5867, 21.2725))[0], mode=Mode.SUBTRACT)

    # 13/64 (0.20313) Diameter Hole1
    with Locations(Plane(origin=(0, -15.84325, 0), x_dir=(-1, 0, 0), z_dir=(0, 1, 0))):
        with Locations((1.812886138, 21.2725)):
            Hole(F_13_64_0_20313_DIAMETER_HOLE1_D / 2, depth=F_13_64_0_20313_DIAMETER_HOLE1_DEPTH)
            with Locations((0, 0, -(F_13_64_0_20313_DIAMETER_HOLE1_DEPTH + F_13_64_0_20313_DIAMETER_HOLE1_TIP / 2))):  # 118° drill point
                Cone(0, F_13_64_0_20313_DIAMETER_HOLE1_D / 2, F_13_64_0_20313_DIAMETER_HOLE1_TIP, mode=Mode.SUBTRACT)

    # Fillet5
    fillet5_edges = [part.edges().sort_by_distance(p)[0] for p in [
        (-12.7, -22.19325, 4.7625),
        (12.7, -22.19325, 4.7625),
        (-12.7, 18.26895, 4.7625),
        (12.7, 18.26895, 4.7625),
    ]]
    fillet(fillet5_edges, radius=FILLET5_R)

    # Fillet6
    fillet6_edges = [part.edges().sort_by_distance(p)[0] for p in [
        (-12.7, -22.19325, 30.1625),
        (12.7, -22.19325, 30.1625),
        (-12.7, 18.26895, 30.1625),
        (12.7, 18.26895, 30.1625),
    ]]
    fillet(fillet6_edges, radius=FILLET6_R)

    # Fillet7
    fillet7_edges = [part.edges().sort_by_distance(p)[0] for p in [
        (0, -15.84325, 4.7625),
        (0, 15.9512, 4.7625),
    ]]
    fillet(fillet7_edges, radius=FILLET7_R)

    # Fillet11
    fillet11_edges = [part.edges().sort_by_distance(p)[0] for p in [
        (0, -28.54325, 4.7625),
        (0, 20.5867, 4.7625),
    ]]
    fillet(fillet11_edges, radius=FILLET11_R)


solid = part.part
